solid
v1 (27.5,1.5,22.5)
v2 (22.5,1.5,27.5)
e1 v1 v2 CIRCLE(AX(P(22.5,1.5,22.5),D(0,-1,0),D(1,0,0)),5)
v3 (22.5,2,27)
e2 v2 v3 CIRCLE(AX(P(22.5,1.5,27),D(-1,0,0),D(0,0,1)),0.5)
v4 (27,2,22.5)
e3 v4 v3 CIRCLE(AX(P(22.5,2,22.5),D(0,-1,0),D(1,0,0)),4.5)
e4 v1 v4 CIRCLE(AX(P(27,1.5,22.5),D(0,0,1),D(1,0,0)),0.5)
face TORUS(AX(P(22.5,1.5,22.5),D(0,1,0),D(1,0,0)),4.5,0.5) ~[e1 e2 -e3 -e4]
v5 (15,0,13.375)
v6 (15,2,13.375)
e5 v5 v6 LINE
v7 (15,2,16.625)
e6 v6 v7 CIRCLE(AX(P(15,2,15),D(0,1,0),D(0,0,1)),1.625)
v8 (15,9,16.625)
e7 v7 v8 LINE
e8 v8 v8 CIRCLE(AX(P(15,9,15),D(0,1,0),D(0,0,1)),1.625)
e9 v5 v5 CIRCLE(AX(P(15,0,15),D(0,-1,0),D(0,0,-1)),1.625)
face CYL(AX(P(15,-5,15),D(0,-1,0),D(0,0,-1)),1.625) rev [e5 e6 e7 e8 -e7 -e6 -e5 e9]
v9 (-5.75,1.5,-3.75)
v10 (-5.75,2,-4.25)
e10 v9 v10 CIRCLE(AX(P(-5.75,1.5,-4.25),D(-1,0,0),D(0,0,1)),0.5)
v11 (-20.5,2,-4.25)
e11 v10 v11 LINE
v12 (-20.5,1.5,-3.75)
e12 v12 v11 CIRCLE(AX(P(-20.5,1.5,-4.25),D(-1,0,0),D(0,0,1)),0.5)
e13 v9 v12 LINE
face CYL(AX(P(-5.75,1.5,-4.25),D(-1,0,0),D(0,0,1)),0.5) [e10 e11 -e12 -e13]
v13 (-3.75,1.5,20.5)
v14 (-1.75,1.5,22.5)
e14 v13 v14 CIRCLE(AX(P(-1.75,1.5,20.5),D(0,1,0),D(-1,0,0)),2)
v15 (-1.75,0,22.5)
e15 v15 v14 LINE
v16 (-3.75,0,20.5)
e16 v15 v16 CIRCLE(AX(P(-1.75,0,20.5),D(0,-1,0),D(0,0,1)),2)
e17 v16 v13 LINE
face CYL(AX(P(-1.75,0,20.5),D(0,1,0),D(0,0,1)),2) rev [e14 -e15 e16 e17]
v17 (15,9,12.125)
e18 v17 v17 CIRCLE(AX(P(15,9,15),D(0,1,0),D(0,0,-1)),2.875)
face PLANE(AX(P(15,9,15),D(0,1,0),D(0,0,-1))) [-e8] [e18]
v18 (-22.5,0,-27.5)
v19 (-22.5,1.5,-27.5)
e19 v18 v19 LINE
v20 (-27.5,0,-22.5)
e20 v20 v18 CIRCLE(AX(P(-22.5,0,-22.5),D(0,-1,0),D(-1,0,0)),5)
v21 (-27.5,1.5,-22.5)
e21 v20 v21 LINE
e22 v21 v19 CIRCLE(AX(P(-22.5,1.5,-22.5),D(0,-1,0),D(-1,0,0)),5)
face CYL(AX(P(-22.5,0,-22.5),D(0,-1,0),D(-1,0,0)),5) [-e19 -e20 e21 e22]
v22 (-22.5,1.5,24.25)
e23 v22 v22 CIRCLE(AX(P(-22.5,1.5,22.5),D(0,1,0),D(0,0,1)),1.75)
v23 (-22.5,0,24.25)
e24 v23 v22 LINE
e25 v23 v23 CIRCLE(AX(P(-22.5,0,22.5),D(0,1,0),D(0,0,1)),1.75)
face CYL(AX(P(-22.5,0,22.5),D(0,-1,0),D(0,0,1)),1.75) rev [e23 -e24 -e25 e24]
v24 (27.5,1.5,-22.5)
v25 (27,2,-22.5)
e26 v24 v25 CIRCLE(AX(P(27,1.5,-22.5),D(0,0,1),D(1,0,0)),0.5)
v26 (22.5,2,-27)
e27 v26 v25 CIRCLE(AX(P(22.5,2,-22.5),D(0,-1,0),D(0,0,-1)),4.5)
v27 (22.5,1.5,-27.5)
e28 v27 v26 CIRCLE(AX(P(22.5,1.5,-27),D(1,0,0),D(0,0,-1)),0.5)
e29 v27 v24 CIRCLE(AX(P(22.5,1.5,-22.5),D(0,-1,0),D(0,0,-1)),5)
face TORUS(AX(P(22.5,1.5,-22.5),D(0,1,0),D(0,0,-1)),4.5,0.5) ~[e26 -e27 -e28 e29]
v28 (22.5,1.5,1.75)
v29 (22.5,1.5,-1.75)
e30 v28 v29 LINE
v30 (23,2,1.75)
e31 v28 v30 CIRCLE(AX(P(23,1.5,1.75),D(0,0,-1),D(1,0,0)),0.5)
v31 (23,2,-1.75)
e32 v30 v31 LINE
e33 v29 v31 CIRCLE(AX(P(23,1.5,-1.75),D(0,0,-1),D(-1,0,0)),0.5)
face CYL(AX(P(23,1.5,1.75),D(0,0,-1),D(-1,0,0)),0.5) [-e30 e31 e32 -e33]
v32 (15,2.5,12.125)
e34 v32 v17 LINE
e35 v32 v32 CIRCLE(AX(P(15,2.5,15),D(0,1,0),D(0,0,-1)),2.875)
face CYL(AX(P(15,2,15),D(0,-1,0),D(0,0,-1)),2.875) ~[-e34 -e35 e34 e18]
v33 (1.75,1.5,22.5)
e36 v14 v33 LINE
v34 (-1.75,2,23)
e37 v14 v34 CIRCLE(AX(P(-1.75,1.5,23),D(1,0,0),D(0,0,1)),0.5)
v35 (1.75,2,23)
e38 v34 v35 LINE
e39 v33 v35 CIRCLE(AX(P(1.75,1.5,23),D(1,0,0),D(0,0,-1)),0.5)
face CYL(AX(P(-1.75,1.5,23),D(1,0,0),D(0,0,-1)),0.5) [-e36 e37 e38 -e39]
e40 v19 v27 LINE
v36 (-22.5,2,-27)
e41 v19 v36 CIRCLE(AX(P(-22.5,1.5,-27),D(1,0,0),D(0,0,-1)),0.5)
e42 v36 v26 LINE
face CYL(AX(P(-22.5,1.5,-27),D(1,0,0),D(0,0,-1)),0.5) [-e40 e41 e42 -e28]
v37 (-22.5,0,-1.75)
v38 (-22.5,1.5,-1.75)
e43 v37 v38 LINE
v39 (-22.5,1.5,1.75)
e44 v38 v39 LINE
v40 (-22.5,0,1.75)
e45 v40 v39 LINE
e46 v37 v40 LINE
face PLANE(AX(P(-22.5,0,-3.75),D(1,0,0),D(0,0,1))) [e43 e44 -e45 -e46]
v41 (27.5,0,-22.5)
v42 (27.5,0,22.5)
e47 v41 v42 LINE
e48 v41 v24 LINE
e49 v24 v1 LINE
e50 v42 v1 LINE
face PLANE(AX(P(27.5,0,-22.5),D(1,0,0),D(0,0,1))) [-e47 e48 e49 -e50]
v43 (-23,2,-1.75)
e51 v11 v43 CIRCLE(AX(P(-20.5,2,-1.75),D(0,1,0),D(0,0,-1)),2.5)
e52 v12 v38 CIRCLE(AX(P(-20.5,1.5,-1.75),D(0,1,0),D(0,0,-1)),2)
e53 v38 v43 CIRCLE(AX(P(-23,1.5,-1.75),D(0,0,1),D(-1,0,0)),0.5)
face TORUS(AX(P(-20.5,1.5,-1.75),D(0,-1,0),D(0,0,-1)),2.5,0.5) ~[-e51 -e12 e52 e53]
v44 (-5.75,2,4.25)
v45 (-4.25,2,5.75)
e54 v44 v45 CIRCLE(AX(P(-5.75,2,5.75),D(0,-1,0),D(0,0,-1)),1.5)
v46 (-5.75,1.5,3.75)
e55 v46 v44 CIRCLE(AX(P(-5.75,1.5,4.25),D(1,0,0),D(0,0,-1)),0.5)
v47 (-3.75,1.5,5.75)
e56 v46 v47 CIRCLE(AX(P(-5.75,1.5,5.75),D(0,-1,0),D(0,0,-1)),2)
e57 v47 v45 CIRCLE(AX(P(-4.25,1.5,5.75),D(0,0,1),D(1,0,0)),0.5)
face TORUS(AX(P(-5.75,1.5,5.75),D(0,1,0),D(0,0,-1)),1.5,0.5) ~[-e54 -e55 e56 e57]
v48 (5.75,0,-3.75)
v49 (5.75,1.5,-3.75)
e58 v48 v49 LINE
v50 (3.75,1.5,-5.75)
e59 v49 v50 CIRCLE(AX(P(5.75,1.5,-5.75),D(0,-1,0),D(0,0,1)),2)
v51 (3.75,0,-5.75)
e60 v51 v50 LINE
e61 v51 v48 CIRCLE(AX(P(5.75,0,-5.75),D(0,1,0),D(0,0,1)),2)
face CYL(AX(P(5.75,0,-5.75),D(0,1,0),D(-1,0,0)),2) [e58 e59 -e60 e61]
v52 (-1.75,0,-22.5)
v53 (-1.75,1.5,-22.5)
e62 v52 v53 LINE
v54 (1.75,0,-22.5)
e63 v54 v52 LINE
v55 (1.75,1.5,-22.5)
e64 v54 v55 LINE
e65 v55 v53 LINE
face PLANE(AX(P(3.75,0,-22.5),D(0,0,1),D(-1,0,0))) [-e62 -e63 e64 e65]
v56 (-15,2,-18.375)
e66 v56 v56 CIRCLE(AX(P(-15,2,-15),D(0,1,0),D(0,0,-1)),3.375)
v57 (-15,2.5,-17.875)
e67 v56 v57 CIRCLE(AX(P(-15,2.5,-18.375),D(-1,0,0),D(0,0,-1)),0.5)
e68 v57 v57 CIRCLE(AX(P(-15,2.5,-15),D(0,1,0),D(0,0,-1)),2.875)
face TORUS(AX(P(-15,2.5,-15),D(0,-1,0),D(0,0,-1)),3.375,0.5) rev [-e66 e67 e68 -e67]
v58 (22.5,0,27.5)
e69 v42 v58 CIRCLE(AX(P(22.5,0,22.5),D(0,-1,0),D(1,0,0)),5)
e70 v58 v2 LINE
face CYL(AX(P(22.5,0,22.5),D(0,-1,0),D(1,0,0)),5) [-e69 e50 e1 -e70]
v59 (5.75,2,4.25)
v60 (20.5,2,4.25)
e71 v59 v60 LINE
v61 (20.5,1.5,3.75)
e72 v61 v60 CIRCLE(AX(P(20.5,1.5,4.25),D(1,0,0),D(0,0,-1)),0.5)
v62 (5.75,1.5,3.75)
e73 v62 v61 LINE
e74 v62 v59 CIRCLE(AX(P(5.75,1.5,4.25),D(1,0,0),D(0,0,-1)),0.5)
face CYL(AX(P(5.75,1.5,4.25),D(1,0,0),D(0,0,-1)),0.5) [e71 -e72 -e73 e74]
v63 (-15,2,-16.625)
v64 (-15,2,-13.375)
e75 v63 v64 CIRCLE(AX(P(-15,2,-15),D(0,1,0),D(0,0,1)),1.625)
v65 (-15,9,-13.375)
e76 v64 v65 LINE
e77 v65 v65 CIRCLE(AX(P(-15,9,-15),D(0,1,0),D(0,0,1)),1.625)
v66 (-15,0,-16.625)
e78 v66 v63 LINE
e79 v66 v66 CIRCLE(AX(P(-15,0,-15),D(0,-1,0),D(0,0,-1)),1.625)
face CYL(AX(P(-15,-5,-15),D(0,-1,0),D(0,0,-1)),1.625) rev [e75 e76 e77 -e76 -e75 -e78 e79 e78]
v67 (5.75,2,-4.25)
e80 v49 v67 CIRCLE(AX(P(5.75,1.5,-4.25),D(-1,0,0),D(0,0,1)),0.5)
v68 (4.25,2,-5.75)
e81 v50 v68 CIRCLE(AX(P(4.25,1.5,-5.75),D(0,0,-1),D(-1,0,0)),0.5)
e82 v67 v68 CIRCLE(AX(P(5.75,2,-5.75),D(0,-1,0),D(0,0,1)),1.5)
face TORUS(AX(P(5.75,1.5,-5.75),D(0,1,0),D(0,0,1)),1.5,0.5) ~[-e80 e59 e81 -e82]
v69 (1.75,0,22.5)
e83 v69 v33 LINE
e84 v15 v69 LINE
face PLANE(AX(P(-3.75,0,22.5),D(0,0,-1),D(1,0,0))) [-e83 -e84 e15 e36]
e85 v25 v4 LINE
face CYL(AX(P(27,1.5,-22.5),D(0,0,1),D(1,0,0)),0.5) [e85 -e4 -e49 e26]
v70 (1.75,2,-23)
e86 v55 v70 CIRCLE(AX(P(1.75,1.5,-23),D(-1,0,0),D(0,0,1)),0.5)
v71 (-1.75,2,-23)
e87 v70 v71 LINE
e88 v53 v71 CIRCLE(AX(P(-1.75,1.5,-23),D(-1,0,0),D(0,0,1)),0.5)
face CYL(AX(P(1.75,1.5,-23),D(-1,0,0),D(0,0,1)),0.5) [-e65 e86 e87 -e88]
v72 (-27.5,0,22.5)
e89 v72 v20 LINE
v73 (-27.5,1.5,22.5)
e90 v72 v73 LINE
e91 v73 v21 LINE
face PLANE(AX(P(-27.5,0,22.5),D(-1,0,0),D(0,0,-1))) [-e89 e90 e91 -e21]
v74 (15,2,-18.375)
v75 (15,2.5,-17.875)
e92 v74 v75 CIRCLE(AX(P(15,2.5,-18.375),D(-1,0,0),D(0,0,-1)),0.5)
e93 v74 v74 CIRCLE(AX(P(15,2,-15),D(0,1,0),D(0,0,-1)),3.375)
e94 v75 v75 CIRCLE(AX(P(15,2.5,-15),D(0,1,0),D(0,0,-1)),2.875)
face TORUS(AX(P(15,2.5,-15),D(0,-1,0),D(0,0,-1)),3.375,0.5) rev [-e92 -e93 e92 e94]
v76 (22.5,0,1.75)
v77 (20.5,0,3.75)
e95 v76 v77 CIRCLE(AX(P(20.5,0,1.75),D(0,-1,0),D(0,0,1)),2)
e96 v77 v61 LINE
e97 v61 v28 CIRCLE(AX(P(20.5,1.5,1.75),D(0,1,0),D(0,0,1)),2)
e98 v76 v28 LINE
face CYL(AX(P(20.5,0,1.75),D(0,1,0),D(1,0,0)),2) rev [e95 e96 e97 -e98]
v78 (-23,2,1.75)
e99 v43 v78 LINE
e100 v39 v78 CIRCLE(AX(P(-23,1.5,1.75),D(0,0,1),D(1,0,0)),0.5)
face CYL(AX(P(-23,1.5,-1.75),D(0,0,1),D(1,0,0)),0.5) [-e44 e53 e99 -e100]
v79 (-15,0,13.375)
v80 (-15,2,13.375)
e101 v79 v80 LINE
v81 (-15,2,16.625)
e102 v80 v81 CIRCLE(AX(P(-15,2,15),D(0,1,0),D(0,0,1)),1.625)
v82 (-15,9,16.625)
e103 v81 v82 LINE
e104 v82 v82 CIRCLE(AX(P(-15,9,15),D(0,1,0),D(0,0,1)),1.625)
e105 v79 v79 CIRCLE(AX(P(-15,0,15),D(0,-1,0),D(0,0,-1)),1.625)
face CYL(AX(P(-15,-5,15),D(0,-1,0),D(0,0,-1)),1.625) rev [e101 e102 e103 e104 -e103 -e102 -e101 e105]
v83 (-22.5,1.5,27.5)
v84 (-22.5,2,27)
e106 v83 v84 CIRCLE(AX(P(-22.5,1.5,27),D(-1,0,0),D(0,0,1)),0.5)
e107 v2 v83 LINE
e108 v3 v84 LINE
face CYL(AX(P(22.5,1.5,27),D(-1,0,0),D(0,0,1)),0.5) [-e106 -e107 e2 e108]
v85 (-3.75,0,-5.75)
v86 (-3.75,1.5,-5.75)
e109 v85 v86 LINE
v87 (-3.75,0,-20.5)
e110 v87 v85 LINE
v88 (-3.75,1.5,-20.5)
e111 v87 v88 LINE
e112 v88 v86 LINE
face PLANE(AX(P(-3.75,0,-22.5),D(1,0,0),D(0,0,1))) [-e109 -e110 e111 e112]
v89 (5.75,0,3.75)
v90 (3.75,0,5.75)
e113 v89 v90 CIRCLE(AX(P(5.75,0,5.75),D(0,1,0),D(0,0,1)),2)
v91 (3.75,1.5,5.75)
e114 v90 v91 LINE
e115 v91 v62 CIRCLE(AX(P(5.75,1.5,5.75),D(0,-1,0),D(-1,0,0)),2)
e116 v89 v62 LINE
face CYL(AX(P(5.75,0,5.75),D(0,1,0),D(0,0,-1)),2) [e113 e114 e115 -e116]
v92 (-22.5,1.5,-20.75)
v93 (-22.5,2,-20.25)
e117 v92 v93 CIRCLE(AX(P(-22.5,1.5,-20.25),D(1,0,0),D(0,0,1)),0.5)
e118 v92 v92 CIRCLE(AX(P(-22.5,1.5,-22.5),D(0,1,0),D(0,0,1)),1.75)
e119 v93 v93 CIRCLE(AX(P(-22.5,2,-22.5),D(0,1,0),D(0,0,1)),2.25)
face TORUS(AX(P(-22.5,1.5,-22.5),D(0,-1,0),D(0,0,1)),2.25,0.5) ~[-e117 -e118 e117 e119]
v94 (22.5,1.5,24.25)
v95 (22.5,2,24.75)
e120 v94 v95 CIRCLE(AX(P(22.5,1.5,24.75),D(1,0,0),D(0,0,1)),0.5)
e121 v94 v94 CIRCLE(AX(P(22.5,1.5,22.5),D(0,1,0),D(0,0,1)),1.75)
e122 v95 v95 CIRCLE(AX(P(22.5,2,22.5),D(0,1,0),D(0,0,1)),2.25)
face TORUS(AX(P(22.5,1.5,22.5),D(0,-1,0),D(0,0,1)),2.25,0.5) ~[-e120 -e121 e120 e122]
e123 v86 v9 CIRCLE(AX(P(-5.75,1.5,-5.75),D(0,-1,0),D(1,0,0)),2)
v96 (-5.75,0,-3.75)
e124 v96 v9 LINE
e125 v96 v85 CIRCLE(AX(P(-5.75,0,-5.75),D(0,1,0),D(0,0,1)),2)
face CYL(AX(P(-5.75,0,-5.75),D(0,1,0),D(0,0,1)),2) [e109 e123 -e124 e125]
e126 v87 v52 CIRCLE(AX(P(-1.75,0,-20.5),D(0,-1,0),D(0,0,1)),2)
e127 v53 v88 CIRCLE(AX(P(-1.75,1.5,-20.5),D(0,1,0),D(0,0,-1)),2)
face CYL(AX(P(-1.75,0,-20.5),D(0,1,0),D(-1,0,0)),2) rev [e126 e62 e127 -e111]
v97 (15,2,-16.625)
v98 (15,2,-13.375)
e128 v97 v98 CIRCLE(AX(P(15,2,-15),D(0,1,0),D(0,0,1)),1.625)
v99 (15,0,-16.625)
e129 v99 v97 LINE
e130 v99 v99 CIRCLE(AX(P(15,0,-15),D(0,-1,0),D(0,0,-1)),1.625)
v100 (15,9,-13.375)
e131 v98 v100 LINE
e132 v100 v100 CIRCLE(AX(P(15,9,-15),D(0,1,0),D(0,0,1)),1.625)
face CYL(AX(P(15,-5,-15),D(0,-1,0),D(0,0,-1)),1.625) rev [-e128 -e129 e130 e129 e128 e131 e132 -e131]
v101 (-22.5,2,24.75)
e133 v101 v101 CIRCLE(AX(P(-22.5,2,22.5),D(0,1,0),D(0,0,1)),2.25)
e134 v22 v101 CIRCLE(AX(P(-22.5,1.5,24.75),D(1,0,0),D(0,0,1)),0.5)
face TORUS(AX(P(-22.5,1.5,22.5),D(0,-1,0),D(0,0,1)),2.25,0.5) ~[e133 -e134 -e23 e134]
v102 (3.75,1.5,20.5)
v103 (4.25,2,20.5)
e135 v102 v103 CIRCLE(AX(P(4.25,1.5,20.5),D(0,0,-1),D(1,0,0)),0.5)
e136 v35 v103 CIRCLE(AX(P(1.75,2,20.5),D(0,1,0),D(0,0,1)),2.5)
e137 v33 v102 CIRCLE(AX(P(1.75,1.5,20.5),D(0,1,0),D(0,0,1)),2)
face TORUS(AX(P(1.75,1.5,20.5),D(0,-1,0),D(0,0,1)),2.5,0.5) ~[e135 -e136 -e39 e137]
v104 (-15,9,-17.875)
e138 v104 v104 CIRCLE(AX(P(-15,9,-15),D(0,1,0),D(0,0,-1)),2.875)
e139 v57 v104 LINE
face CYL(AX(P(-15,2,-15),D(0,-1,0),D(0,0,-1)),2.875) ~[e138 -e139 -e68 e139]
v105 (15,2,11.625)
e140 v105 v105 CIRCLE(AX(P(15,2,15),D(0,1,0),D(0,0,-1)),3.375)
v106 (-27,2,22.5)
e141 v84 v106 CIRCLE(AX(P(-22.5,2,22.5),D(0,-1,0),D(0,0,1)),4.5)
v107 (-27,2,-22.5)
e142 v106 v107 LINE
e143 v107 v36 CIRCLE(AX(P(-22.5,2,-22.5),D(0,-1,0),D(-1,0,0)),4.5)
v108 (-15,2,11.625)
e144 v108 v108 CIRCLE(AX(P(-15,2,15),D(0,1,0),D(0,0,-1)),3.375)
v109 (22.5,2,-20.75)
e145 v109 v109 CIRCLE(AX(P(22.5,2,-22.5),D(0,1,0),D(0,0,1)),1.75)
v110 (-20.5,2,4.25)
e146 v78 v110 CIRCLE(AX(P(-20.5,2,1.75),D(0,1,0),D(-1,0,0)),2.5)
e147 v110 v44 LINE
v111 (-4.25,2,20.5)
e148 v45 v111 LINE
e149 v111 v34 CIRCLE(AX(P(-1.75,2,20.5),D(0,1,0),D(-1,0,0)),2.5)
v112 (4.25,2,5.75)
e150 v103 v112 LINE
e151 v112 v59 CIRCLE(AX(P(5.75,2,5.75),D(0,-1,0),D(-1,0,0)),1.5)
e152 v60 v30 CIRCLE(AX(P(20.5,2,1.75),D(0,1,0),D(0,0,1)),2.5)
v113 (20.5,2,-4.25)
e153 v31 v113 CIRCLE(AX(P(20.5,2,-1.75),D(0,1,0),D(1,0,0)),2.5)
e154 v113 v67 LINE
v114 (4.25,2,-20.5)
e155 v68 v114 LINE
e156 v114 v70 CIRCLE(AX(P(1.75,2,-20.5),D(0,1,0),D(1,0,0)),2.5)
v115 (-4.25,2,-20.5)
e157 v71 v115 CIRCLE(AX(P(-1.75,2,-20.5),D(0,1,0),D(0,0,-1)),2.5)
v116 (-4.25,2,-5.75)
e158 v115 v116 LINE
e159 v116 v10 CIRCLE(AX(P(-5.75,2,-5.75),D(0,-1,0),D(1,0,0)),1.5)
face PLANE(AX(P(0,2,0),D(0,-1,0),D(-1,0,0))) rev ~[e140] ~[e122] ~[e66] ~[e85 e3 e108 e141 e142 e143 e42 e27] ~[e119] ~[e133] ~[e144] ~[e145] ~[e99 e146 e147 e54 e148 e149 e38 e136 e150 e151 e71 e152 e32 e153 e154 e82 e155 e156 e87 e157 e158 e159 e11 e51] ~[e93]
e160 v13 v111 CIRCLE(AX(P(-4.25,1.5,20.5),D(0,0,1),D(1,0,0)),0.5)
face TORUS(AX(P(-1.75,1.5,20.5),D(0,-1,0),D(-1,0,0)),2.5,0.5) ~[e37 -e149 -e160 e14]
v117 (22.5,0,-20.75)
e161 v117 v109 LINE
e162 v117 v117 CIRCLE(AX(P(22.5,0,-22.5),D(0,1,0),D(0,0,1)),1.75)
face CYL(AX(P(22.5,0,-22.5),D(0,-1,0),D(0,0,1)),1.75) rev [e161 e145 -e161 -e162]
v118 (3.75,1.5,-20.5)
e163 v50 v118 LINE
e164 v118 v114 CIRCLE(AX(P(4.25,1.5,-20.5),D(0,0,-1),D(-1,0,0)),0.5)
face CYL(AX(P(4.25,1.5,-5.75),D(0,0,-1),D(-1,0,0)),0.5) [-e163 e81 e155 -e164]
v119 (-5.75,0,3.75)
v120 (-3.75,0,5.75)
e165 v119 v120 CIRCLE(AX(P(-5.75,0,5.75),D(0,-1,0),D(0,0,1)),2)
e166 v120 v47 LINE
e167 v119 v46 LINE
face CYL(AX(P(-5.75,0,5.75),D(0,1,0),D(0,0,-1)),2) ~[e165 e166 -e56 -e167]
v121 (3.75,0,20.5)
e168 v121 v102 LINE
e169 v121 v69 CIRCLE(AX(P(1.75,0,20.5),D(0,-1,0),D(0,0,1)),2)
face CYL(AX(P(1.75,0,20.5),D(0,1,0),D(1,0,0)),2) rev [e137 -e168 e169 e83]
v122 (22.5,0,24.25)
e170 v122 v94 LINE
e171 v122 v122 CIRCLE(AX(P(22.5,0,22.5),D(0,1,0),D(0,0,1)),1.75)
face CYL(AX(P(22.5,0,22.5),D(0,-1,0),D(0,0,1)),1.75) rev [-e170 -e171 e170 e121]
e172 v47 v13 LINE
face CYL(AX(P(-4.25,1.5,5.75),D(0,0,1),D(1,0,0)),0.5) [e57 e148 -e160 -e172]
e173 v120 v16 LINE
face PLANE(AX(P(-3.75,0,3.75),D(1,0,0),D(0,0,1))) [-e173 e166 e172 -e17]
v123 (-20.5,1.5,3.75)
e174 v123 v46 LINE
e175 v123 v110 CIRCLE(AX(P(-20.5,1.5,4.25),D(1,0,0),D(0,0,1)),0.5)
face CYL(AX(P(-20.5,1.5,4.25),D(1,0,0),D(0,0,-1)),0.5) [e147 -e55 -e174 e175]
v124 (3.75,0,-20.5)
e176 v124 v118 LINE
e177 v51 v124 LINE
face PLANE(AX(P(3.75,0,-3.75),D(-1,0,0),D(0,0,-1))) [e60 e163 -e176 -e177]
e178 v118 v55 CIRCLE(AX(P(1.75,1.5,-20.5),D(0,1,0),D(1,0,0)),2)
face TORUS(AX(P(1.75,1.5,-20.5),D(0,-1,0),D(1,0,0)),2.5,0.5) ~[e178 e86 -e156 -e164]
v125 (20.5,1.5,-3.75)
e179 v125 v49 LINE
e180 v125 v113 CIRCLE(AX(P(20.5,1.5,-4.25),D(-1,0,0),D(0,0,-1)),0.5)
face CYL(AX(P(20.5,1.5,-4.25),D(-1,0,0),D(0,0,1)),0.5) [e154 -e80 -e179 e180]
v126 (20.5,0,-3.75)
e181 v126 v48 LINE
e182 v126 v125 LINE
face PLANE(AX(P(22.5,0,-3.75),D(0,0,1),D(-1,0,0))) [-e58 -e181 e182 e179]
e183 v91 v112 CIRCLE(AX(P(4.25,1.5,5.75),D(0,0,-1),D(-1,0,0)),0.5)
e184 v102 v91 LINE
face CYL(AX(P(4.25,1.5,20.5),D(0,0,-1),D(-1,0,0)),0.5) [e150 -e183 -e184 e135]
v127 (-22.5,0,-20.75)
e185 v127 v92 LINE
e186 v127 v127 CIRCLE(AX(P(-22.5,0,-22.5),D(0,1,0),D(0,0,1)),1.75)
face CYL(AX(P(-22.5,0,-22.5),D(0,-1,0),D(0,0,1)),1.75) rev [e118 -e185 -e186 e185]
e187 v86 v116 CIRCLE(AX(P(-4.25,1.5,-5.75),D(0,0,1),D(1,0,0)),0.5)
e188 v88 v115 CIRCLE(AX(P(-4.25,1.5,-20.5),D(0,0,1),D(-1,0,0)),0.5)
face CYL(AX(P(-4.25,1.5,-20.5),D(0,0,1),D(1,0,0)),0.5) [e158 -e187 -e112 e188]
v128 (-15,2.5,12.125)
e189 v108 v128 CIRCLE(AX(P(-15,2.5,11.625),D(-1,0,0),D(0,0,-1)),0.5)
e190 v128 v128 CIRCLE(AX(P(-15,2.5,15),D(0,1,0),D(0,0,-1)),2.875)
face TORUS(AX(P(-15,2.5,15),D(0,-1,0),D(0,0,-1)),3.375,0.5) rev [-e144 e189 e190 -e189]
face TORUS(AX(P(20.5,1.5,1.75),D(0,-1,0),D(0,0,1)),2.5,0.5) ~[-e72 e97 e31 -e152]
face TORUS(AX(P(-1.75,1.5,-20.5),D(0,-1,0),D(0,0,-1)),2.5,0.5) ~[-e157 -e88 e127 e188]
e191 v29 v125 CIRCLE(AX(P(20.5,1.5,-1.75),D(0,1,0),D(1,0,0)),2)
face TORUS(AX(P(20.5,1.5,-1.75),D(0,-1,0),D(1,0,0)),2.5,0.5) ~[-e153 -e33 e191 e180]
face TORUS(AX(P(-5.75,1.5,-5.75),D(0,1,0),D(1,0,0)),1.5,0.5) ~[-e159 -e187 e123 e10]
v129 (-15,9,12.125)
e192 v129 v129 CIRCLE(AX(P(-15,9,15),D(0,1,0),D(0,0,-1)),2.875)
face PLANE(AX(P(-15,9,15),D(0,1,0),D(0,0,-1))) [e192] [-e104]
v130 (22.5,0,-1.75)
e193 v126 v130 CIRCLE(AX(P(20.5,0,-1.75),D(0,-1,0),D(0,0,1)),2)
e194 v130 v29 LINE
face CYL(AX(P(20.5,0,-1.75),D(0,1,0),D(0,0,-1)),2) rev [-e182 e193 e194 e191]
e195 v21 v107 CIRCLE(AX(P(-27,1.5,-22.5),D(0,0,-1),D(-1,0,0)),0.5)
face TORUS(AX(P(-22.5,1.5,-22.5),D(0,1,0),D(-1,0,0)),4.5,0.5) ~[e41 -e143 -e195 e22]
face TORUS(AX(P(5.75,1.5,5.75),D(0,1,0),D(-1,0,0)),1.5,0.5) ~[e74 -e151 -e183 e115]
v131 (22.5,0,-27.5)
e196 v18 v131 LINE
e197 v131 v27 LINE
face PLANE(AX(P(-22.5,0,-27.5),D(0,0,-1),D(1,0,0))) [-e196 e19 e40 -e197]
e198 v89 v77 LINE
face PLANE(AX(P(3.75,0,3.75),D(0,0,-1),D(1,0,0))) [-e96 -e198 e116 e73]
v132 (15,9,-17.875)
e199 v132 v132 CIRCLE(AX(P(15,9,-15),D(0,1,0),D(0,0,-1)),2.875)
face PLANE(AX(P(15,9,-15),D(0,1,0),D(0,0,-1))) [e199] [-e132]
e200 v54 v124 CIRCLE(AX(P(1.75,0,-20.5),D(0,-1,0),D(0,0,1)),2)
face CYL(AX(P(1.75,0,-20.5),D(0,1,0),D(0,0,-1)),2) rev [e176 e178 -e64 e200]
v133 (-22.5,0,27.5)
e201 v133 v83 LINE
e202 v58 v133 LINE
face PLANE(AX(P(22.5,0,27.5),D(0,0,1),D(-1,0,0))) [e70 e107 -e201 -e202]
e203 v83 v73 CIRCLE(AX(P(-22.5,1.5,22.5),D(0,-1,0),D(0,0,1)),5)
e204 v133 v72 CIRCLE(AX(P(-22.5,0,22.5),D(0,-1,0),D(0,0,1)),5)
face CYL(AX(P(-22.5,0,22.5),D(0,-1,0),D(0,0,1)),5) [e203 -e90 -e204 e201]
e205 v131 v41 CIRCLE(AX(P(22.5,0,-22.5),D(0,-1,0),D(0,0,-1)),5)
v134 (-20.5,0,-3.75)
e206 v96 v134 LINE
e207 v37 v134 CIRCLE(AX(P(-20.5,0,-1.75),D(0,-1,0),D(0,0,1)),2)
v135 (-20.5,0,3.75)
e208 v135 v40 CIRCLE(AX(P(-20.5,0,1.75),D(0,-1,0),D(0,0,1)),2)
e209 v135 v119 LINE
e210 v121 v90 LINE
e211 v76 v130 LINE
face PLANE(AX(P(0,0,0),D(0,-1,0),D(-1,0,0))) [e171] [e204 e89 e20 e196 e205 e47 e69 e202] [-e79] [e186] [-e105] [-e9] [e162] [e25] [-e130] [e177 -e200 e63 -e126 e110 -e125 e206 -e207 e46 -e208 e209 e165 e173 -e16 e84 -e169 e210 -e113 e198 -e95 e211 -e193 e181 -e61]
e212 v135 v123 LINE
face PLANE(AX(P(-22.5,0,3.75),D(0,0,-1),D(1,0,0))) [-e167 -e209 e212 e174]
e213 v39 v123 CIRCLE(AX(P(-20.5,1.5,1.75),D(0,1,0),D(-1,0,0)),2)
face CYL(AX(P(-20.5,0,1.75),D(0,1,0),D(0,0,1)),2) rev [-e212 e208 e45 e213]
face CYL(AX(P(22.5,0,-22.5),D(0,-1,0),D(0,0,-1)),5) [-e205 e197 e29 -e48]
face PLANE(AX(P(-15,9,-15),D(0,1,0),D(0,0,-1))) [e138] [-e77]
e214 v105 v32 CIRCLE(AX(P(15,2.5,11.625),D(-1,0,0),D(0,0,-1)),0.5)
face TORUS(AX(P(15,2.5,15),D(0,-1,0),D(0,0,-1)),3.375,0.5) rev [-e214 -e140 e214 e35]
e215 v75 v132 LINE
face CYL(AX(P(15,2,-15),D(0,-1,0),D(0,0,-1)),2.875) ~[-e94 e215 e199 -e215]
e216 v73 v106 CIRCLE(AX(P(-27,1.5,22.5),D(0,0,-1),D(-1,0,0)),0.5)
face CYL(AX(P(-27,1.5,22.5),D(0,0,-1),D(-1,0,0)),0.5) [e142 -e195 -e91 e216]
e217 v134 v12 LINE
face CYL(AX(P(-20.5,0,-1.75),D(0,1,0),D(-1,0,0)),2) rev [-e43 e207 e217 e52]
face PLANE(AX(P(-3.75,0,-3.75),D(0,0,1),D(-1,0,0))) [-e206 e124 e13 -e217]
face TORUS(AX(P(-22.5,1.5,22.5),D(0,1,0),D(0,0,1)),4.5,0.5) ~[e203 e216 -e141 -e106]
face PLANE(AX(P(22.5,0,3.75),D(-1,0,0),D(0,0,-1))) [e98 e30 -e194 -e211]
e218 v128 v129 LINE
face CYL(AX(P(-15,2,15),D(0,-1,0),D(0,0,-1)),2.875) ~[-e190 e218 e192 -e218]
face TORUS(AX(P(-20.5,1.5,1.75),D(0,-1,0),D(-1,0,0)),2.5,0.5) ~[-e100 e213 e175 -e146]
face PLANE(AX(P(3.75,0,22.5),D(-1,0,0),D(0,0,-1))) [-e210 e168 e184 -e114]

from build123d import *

# Parameters (mm, degrees)
SKETCH1_R           = 1.75
BOSS_EXTRUDE1_DEPTH = 2
SKETCH2_R           = 2.875
SKETCH2_R_2         = 1.625
BOSS_EXTRUDE2_DEPTH = 7
FILLET3_R           = 2
CUT_EXTRUDE1_START  = -7
SKETCH3_R           = 1.625
CUT_EXTRUDE1_DEPTH  = 7
FILLET4_R           = 0.5


with BuildPart() as part:
    # Sketch1 → Boss-Extrude1 (new body)
    with BuildSketch(Plane(origin=(0, 0, 0), x_dir=(1, 0, 0), z_dir=(0, 1, 0))):
        with BuildLine():
            Line((-22.5, 27.5), (22.5, 27.5))
            ThreePointArc((22.5, 27.5), (26.035533906, 26.035533906), (27.5, 22.5))
            Line((27.5, 22.5), (27.5, -22.5))
            ThreePointArc((27.5, -22.5), (26.035533906, -26.035533906), (22.5, -27.5))
            Line((22.5, -27.5), (-22.5, -27.5))
            ThreePointArc((-22.5, -27.5), (-26.035533906, -26.035533906), (-27.5, -22.5))
            Line((-27.5, -22.5), (-27.5, 22.5))
            ThreePointArc((-27.5, 22.5), (-26.035533906, 26.035533906), (-22.5, 27.5))
        make_face()
        with Locations(Location((-22.5, 22.5, 0), (0, 0, 270))):
            Circle(SKETCH1_R, mode=Mode.SUBTRACT)
        with Locations(Location((22.5, 22.5, 0), (0, 0, 270))):
            Circle(SKETCH1_R, mode=Mode.SUBTRACT)
        with Locations(Location((22.5, -22.5, 0), (0, 0, 270))):
            Circle(SKETCH1_R, mode=Mode.SUBTRACT)
        with Locations(Location((-22.5, -22.5, 0), (0, 0, 270))):
            Circle(SKETCH1_R, mode=Mode.SUBTRACT)
        Polygon((-3.75, -3.75), (-3.75, -22.5), (3.75, -22.5), (3.75, -3.75), (22.5, -3.75), (22.5, 3.75), (3.75, 3.75), (3.75, 22.5), (-3.75, 22.5), (-3.75, 3.75), (-22.5, 3.75), (-22.5, -3.75), align=None, mode=Mode.SUBTRACT)
    extrude(amount=BOSS_EXTRUDE1_DEPTH)

    # Sketch2 → Boss-Extrude2 (add)
    # profile 1 of 4: a face of its own
    with BuildSketch(Plane(origin=(0, 2, 0), x_dir=(1, 0, 0), z_dir=(0, 1, 0))):
        with Locations(Location((-15, 15, 0), (0, 0, 90))):
            Circle(SKETCH2_R)
        with Locations(Location((-15, 15, 0), (0, 0, 270))):
            Circle(SKETCH2_R_2, mode=Mode.SUBTRACT)
    # profile 2 of 4: a face of its own
    with BuildSketch(Plane(origin=(0, 2, 0), x_dir=(1, 0, 0), z_dir=(0, 1, 0))):
        with Locations(Location((15, 15, 0), (0, 0, 90))):
            Circle(SKETCH2_R)
        with Locations(Location((15, 15, 0), (0, 0, 270))):
            Circle(SKETCH2_R_2, mode=Mode.SUBTRACT)
    # profile 3 of 4: a face of its own
    with BuildSketch(Plane(origin=(0, 2, 0), x_dir=(1, 0, 0), z_dir=(0, 1, 0))):
        with Locations(Location((15, -15, 0), (0, 0, 90))):
            Circle(SKETCH2_R)
        with Locations(Location((15, -15, 0), (0, 0, 270))):
            Circle(SKETCH2_R_2, mode=Mode.SUBTRACT)
    # profile 4 of 4: a face of its own
    with BuildSketch(Plane(origin=(0, 2, 0), x_dir=(1, 0, 0), z_dir=(0, 1, 0))):
        with Locations(Location((-15, -15, 0), (0, 0, 90))):
            Circle(SKETCH2_R)
        with Locations(Location((-15, -15, 0), (0, 0, 270))):
            Circle(SKETCH2_R_2, mode=Mode.SUBTRACT)
    extrude(amount=BOSS_EXTRUDE2_DEPTH)

    # Fillet3
    fillet3_edges = [part.edges().sort_by_distance(p)[0] for p in [
        (3.75, 1, 22.5),
        (3.75, 1, 3.75),
        (22.5, 1, 3.75),
        (22.5, 1, -3.75),
        (3.75, 1, -3.75),
        (3.75, 1, -22.5),
        (-3.75, 1, -22.5),
        (-3.75, 1, -3.75),
        (-22.5, 1, -3.75),
        (-22.5, 1, 3.75),
        (-3.75, 1, 3.75),
        (-3.75, 1, 22.5),
    ]]
    fillet(fillet3_edges, radius=FILLET3_R)

    # Sketch3 → Cut-Extrude1 (cut)
    with BuildSketch(Plane(origin=(0, 2, 0), x_dir=(1, 0, 0), z_dir=(0, 1, 0)).offset(CUT_EXTRUDE1_START)):
        with Locations(Location((-15, 15, 0), (0, 0, 90))):
            Circle(SKETCH3_R)
        with Locations(Location((15, 15, 0), (0, 0, 90))):
            Circle(SKETCH3_R)
        with Locations(Location((15, -15, 0), (0, 0, 90))):
            Circle(SKETCH3_R)
        with Locations(Location((-15, -15, 0), (0, 0, 90))):
            Circle(SKETCH3_R)
    extrude(amount=CUT_EXTRUDE1_DEPTH, mode=Mode.SUBTRACT)

    # Fillet4
    fillet4_edges = [part.edges().sort_by_distance(p)[0] for p in [
        (26.035533906, 2, -26.035533906),
        (0, 2, -22.5),
        (-3.75, 2, -13.125),
        (3.75, 2, -13.125),
        (-13.125, 2, -3.75),
        (3.75, 2, 13.125),
        (0, 2, 22.5),
        (-3.75, 2, 13.125),
        (-13.125, 2, 3.75),
        (-22.5, 2, 0),
        (13.125, 2, -3.75),
        (22.5, 2, 0),
        (13.125, 2, 3.75),
        (-4.335786438, 2, 4.335786438),
        (4.335786438, 2, 4.335786438),
        (4.335786438, 2, -4.335786438),
        (-4.335786438, 2, -4.335786438),
        (0, 2, -27.5),
        (-3.164213562, 2, -21.914213562),
        (3.164213562, 2, -21.914213562),
        (21.914213562, 2, -3.164213562),
        (21.914213562, 2, 3.164213562),
        (3.164213562, 2, 21.914213562),
        (-3.164213562, 2, 21.914213562),
        (-21.914213562, 2, 3.164213562),
        (-21.914213562, 2, -3.164213562),
        (-26.035533906, 2, -26.035533906),
        (-27.5, 2, 0),
        (-22.5, 2, -24.25),
        (-26.035533906, 2, 26.035533906),
        (0, 2, 27.5),
        (22.5, 2, 20.75),
        (-22.5, 2, 20.75),
        (26.035533906, 2, 26.035533906),
        (27.5, 2, 0),
        (-15, 2, -12.125),
        (15, 2, -12.125),
        (15, 2, 17.875),
        (-15, 2, 17.875),
    ]]
    fillet(fillet4_edges, radius=FILLET4_R)


solid = part.part
